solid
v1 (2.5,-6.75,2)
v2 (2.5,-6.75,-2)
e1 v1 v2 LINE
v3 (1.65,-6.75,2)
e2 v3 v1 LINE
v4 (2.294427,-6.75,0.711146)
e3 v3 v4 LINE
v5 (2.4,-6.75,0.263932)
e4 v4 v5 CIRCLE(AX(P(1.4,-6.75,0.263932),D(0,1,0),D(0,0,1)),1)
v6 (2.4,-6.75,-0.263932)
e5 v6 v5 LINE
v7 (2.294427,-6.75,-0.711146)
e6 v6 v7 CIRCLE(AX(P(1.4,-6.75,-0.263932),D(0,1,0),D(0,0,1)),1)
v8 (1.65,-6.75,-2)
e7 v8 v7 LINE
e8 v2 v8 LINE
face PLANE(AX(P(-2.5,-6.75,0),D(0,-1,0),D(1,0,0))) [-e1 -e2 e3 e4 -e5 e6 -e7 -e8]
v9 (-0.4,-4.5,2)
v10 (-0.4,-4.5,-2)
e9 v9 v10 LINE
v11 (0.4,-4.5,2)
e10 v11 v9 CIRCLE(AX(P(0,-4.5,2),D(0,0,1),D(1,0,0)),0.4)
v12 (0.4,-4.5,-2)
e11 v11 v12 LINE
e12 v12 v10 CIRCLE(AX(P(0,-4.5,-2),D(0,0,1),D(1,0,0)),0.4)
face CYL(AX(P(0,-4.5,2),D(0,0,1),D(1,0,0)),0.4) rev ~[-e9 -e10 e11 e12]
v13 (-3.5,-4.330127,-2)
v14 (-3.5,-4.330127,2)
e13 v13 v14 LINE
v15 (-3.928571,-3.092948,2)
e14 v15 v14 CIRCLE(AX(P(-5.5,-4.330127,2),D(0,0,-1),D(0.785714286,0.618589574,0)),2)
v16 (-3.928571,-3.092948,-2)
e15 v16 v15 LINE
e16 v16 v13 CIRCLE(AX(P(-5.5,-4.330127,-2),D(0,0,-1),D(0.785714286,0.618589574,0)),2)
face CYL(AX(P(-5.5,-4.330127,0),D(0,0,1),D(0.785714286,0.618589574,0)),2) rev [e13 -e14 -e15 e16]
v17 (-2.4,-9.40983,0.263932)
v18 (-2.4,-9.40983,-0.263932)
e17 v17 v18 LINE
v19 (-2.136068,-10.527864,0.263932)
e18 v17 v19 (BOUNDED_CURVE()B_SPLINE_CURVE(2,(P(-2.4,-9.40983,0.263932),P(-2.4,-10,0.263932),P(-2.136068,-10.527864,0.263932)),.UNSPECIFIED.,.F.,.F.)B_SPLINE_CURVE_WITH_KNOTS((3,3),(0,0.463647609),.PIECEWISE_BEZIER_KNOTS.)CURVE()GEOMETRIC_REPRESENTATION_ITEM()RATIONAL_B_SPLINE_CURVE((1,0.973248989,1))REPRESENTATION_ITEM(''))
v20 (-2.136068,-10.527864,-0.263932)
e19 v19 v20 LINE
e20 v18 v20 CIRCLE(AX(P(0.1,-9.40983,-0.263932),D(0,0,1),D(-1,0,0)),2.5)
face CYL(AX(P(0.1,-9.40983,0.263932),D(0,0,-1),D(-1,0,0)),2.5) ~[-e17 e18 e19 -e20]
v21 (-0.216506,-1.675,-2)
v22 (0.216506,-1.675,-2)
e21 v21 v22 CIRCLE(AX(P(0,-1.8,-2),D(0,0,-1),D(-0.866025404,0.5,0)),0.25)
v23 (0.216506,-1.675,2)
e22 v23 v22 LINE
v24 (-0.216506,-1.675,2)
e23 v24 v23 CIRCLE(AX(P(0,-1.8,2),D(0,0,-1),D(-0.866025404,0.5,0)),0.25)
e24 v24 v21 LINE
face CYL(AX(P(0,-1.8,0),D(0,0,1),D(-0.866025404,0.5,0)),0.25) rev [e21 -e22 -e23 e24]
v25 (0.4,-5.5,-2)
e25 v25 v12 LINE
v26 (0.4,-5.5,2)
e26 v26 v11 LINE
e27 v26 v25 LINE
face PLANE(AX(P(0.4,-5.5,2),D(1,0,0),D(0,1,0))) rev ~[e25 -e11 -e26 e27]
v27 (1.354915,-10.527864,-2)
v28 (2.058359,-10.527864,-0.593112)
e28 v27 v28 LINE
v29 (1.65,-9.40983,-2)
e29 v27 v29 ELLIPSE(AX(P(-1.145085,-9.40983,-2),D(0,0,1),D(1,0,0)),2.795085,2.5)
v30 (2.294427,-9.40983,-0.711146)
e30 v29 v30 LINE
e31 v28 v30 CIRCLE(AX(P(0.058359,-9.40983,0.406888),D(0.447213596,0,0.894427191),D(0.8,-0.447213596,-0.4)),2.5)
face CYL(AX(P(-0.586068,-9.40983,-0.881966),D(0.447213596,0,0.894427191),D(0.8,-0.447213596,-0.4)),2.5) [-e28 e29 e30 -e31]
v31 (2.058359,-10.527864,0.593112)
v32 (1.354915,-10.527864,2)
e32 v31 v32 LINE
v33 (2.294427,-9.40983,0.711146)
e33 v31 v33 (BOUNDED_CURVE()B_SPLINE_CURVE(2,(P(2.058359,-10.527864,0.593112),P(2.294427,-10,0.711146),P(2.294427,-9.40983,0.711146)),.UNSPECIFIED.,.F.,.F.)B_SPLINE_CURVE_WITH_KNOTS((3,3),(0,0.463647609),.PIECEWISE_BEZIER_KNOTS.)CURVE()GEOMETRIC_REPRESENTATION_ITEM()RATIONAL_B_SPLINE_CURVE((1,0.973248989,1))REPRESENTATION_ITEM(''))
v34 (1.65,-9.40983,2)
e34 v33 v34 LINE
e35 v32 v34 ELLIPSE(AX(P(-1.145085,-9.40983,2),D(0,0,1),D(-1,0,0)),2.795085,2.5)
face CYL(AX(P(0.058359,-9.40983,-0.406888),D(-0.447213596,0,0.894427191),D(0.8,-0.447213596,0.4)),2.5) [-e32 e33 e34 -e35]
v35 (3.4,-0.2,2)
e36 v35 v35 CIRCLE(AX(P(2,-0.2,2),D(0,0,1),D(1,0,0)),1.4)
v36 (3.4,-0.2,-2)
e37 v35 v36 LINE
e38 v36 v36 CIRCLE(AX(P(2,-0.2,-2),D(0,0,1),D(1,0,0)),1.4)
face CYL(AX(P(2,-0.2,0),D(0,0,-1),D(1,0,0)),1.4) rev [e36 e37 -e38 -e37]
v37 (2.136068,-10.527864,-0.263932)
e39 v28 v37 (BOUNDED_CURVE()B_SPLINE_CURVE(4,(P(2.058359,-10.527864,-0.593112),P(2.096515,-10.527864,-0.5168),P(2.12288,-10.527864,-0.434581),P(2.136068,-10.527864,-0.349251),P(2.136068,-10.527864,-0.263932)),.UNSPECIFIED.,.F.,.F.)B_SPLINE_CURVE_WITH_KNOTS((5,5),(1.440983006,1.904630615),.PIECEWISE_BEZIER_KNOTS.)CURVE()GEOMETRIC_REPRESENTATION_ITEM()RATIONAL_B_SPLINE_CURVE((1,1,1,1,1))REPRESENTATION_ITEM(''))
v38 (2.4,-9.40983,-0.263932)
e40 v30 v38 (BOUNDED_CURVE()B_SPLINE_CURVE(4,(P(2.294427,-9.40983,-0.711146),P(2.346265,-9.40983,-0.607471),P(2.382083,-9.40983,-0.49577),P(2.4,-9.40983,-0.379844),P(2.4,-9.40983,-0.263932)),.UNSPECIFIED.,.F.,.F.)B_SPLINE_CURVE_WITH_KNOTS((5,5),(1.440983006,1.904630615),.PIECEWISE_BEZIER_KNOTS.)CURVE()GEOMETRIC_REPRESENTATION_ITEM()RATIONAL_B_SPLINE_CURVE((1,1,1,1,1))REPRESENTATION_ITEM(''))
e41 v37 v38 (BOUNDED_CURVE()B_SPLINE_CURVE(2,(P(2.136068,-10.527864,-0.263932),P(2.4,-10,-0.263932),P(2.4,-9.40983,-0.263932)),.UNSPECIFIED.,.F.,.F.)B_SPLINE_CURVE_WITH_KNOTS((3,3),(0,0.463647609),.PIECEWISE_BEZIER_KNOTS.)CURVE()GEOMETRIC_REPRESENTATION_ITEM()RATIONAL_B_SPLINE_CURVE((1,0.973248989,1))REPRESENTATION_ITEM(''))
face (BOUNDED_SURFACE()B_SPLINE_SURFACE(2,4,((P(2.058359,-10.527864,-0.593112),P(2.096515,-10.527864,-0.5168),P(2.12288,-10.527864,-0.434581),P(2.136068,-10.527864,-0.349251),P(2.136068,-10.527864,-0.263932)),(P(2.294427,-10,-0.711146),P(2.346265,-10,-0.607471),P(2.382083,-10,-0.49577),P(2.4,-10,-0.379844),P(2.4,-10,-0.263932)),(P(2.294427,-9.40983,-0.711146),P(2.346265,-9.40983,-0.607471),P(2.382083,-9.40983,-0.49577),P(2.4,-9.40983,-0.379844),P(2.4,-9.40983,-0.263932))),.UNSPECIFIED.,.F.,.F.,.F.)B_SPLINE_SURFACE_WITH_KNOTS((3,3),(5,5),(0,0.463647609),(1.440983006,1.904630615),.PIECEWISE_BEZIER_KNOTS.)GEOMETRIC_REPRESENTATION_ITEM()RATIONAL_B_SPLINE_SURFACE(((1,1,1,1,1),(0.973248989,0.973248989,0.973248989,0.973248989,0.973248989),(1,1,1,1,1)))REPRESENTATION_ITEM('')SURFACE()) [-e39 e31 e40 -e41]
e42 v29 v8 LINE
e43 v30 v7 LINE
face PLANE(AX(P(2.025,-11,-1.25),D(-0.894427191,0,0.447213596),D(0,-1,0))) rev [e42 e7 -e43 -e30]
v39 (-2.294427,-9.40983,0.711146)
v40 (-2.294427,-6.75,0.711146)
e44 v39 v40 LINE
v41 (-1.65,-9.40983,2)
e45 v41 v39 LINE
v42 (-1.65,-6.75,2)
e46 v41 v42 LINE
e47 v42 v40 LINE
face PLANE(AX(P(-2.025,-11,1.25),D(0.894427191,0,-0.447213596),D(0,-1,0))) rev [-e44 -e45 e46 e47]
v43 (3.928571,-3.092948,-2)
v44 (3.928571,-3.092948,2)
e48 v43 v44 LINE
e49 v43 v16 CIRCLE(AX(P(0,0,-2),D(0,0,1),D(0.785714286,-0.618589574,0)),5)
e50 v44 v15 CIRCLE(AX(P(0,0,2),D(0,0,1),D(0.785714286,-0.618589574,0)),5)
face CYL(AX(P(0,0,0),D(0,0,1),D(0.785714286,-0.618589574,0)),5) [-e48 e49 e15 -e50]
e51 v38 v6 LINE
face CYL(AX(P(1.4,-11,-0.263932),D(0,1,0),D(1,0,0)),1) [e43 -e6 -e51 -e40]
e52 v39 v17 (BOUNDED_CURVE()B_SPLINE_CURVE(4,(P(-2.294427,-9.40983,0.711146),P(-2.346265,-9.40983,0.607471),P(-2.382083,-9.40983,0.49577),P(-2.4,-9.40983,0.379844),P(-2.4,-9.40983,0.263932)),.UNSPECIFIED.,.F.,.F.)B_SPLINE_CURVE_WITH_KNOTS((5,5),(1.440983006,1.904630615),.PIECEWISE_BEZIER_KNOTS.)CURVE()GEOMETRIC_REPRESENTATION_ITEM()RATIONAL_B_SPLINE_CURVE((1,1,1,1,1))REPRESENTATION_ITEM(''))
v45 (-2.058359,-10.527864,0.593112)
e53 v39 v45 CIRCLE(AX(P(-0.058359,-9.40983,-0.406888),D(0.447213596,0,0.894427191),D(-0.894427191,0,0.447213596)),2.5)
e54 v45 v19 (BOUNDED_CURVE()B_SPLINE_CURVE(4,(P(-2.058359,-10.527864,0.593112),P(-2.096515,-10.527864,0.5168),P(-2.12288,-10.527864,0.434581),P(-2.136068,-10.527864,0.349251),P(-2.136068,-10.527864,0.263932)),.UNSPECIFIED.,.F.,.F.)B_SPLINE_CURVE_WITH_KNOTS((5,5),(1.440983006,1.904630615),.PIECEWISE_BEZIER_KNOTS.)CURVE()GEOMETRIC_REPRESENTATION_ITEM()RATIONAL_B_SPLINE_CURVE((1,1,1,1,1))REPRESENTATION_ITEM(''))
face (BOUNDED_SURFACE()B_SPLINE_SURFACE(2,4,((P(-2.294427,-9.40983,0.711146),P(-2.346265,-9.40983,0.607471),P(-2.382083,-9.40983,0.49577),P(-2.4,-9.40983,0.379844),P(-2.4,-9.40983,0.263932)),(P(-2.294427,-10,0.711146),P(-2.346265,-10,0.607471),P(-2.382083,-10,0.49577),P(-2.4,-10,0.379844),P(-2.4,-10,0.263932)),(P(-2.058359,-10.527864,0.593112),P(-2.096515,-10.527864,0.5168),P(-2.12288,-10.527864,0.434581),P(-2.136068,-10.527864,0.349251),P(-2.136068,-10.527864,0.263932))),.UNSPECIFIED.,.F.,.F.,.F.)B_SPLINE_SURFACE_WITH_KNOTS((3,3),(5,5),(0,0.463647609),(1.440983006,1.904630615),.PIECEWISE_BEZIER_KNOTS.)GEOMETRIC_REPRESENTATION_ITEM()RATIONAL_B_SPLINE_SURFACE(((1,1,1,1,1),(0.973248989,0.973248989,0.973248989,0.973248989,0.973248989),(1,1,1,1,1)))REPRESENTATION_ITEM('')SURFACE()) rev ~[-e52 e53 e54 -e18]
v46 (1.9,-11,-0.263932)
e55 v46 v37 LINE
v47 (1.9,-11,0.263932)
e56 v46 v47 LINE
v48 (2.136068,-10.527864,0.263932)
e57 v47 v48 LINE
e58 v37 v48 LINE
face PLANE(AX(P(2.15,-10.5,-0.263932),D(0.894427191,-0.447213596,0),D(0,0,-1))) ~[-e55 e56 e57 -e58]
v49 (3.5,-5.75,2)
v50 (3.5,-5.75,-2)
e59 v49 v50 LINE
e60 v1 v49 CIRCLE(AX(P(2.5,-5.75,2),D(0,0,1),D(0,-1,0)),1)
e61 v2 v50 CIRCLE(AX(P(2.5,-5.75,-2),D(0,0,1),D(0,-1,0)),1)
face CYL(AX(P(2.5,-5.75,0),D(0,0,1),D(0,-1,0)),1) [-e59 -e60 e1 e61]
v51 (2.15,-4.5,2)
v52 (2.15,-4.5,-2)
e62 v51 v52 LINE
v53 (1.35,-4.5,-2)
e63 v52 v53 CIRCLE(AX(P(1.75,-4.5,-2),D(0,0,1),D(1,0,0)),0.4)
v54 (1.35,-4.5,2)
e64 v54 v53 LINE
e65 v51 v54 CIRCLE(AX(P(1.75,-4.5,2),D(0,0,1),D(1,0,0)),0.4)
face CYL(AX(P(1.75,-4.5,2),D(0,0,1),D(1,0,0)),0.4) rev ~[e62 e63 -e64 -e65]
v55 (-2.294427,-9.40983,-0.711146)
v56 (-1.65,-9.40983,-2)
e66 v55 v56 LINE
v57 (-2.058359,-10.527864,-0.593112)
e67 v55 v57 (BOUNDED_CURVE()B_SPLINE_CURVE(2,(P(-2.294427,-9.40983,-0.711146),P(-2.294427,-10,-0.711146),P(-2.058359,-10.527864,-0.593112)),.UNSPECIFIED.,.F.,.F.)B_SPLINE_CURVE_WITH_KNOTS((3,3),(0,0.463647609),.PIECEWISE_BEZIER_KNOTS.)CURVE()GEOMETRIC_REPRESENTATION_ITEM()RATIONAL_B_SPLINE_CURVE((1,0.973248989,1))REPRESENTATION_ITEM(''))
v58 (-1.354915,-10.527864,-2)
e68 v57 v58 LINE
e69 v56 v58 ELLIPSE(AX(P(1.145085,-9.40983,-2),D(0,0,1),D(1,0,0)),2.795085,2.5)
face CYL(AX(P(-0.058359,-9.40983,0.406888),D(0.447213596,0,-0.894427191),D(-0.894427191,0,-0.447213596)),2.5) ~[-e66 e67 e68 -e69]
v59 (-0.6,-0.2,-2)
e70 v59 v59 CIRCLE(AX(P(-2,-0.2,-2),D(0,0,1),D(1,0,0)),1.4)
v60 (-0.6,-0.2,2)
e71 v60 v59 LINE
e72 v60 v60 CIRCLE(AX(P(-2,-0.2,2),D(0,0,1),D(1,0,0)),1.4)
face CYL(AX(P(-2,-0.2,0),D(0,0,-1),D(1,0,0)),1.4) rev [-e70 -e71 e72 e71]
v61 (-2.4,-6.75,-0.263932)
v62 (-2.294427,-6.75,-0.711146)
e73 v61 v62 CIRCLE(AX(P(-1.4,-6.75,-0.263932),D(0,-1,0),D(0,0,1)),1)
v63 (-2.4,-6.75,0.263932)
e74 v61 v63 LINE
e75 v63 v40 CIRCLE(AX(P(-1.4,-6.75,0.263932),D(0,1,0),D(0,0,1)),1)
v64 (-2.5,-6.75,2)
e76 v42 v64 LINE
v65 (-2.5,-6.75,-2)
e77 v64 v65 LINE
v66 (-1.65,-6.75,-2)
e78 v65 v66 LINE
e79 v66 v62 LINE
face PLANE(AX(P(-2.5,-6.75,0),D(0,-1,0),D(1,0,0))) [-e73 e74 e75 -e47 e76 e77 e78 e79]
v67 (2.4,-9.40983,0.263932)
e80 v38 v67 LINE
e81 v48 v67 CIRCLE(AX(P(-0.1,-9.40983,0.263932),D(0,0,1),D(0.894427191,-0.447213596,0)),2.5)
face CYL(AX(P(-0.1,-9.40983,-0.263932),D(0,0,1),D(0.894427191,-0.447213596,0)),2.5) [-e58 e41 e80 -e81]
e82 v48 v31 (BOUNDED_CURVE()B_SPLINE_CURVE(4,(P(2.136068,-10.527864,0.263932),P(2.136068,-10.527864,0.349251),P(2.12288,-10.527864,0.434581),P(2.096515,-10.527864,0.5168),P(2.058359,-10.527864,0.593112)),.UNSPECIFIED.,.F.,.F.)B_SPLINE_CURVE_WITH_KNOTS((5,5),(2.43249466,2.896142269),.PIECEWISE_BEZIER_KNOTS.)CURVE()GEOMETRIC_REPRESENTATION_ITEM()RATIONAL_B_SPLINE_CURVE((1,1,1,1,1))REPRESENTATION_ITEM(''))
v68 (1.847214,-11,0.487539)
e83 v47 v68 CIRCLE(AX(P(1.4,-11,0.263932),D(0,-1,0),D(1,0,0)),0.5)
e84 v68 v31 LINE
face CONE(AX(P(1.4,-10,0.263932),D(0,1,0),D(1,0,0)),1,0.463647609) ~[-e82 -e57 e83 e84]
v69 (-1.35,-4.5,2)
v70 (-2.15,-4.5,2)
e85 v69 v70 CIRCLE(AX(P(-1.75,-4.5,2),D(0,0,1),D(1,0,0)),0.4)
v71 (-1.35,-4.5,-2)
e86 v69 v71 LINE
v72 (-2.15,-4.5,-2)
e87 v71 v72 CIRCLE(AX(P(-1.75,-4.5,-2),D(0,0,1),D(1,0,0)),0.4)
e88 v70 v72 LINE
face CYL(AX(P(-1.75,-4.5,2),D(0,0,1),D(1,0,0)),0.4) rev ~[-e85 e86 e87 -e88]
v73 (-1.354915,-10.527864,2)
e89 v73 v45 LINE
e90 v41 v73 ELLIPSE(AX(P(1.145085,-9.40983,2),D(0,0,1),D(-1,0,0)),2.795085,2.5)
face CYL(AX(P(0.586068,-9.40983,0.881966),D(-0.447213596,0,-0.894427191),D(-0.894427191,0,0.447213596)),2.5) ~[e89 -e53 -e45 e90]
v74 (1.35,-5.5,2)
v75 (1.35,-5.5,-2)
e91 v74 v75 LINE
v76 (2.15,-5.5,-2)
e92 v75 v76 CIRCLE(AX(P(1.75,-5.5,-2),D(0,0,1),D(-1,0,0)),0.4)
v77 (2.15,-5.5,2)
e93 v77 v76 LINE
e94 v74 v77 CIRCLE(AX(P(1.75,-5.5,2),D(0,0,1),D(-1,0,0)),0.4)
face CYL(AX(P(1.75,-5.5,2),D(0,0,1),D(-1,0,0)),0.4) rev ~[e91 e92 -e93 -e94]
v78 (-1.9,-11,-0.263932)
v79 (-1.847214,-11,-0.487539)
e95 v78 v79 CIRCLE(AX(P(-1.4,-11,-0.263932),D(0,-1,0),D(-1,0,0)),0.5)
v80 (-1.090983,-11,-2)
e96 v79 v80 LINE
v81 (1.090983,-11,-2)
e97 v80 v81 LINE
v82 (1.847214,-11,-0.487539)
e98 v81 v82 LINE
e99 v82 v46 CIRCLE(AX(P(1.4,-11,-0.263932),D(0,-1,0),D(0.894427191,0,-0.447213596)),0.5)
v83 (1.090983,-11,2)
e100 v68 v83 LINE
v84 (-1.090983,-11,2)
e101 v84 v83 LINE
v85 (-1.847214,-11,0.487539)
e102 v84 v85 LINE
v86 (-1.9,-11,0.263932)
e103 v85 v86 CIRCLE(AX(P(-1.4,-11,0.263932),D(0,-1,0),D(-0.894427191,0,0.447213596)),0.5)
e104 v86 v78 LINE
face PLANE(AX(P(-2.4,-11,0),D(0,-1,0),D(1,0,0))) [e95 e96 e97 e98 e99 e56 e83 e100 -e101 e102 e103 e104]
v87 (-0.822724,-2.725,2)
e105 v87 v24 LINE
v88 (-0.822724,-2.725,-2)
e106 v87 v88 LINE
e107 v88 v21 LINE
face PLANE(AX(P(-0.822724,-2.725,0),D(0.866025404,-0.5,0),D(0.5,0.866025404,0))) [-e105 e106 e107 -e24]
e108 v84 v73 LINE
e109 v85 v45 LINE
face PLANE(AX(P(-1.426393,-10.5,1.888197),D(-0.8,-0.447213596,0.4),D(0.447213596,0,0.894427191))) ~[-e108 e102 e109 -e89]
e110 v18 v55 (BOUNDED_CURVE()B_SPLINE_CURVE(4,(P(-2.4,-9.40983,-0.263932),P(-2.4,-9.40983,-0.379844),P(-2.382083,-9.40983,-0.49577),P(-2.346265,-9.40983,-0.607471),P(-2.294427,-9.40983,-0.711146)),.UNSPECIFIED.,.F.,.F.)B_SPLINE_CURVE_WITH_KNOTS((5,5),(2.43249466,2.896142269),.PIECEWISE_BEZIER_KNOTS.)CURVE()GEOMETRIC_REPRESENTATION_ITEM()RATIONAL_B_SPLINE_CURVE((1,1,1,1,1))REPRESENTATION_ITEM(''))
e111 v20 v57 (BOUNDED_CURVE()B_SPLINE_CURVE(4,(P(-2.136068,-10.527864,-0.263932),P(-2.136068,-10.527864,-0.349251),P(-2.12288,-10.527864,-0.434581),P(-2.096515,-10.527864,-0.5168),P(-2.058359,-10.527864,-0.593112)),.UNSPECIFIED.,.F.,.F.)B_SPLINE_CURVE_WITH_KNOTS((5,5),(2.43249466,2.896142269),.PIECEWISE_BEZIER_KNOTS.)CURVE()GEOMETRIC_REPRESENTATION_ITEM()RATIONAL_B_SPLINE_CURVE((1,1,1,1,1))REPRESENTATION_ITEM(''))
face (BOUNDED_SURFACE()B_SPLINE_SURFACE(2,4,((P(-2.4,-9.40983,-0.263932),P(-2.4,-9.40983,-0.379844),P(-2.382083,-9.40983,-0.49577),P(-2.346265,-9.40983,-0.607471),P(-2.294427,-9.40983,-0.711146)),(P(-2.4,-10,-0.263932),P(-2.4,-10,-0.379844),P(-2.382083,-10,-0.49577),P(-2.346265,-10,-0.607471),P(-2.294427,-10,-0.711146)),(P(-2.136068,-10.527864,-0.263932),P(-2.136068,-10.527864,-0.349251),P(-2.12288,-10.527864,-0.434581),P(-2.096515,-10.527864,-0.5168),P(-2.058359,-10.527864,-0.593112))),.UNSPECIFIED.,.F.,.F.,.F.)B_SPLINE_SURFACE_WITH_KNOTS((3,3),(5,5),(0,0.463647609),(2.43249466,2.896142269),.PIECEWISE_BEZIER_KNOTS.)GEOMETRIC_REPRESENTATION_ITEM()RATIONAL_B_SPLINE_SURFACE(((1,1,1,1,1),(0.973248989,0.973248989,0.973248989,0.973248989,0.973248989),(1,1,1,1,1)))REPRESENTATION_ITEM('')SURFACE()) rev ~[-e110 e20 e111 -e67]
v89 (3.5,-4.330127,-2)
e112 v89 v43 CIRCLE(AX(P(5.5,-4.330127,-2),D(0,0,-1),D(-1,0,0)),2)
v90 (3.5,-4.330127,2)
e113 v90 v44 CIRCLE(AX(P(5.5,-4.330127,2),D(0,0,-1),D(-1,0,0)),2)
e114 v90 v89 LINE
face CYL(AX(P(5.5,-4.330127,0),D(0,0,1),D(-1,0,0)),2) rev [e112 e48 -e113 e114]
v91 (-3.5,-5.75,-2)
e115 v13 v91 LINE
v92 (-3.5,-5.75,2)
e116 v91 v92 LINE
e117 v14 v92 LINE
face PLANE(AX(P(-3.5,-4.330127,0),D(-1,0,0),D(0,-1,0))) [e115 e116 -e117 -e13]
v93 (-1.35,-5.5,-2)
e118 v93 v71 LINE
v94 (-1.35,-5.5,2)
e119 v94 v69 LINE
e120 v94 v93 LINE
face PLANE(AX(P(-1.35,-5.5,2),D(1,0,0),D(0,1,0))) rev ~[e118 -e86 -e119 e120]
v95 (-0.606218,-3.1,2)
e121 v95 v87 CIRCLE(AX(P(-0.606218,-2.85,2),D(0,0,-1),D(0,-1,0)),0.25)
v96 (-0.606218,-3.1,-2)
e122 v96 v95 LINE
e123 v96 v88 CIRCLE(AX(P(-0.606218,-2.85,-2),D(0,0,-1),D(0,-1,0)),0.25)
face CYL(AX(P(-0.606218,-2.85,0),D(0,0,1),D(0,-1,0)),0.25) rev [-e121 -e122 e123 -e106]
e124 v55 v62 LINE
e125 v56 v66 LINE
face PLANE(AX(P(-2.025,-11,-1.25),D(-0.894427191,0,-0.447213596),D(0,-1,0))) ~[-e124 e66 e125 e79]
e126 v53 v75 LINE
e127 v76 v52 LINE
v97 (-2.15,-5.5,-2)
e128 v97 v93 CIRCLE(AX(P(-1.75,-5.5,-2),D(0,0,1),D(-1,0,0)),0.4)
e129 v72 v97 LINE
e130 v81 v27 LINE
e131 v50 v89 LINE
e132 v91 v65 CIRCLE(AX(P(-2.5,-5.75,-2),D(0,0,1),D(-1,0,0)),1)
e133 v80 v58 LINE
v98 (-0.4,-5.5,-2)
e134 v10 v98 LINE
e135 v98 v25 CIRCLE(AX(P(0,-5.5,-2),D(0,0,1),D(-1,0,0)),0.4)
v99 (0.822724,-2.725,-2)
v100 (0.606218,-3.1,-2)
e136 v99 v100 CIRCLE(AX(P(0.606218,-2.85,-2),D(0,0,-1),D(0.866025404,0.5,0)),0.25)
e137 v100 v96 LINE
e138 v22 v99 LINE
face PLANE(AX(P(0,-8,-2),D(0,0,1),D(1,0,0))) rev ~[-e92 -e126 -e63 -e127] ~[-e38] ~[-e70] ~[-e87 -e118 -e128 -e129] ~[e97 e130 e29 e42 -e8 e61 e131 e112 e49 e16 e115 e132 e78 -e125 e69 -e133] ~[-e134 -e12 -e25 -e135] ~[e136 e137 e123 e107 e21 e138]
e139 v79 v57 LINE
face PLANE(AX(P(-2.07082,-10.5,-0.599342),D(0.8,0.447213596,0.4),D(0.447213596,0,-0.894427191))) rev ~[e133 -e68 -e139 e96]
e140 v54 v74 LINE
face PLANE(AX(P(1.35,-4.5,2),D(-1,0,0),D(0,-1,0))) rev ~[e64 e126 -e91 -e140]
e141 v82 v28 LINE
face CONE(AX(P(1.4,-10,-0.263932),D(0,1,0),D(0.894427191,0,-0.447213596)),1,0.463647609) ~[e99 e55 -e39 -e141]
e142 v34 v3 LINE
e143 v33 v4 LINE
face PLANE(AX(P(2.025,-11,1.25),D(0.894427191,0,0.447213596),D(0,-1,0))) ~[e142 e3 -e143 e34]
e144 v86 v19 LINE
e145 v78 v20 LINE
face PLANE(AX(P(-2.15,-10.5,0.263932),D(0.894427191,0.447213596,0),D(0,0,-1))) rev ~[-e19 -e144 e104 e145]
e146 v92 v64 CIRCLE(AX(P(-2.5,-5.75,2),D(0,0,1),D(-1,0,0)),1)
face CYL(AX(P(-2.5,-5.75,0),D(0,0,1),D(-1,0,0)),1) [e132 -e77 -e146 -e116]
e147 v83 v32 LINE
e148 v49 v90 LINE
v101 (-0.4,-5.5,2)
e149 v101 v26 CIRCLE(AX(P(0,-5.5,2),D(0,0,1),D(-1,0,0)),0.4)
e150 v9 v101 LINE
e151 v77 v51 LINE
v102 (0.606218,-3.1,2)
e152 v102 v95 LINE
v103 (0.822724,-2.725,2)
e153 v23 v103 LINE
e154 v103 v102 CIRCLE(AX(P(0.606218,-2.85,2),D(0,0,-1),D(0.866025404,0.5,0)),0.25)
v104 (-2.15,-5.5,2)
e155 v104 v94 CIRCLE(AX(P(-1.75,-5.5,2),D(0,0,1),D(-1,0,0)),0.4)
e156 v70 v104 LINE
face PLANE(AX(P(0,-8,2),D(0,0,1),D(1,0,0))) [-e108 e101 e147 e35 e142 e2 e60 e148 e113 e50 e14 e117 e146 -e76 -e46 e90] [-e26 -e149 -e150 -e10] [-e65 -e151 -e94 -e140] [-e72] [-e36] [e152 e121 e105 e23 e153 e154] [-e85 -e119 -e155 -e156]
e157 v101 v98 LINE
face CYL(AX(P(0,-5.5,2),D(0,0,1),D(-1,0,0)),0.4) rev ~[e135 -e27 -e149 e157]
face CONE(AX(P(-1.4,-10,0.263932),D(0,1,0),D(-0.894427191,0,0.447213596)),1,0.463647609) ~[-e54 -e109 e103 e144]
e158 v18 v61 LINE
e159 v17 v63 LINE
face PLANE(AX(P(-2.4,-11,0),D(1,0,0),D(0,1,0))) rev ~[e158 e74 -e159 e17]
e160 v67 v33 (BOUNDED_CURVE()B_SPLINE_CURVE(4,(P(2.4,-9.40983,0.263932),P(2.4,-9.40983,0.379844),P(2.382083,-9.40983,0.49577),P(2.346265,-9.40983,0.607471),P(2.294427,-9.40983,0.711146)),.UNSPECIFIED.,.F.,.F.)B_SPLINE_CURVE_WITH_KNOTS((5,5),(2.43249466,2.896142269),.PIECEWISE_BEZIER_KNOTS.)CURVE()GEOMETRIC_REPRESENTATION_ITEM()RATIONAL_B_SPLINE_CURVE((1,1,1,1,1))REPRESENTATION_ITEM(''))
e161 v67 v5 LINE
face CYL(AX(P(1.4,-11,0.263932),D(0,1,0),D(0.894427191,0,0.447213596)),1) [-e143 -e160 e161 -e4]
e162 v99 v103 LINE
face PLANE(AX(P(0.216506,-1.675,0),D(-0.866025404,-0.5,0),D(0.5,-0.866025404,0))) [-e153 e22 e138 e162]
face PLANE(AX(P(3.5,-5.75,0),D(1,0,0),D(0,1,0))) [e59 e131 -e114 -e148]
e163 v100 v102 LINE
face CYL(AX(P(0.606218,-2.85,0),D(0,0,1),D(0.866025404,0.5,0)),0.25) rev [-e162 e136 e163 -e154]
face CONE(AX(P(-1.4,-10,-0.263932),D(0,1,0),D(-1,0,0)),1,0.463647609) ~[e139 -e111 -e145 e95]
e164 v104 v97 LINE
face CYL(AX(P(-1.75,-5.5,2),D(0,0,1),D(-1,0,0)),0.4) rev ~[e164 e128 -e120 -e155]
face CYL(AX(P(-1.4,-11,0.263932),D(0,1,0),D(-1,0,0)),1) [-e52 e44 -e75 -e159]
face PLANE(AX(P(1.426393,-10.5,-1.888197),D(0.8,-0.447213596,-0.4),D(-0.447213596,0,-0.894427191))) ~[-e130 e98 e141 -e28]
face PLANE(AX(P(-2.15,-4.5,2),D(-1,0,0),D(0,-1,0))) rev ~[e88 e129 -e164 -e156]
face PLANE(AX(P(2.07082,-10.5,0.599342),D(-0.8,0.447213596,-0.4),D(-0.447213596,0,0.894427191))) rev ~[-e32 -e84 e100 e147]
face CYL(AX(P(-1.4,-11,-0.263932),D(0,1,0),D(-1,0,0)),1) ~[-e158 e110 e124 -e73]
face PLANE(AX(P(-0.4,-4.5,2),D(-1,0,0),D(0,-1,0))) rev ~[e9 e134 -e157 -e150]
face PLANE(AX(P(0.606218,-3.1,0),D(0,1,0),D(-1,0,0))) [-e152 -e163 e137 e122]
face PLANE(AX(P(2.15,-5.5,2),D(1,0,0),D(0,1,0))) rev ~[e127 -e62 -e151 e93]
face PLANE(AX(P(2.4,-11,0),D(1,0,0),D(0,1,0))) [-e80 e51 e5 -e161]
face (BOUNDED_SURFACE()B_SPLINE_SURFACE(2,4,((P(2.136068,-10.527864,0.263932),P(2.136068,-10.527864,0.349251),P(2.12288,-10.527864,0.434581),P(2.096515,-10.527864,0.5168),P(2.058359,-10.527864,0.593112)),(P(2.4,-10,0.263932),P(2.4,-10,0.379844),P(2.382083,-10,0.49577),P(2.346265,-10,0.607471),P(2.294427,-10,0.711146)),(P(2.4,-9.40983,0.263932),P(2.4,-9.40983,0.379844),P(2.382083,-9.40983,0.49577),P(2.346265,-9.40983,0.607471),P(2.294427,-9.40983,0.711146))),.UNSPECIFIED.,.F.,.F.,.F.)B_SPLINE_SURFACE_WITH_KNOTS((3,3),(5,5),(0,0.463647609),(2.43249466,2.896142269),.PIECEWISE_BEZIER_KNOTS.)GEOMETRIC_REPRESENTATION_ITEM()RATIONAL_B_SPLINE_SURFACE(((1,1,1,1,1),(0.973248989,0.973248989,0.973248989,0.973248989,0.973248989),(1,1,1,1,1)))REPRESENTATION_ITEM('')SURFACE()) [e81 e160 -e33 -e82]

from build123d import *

# Parameters (mm, degrees)
F0_R       = 1.4
F1_DEPTH   = 2
F2_W       = 4.8
F2_H       = 6
F3_DEPTH   = 2
F4_SIZE2   = 1.5
F4_SIZE    = 0.75
F4_2_SIZE2 = 1.5
F4_2_SIZE  = 0.75
F5_R       = 1
F7_DEPTH   = 4.001
F8_SIZE2   = 1
F8_SIZE    = 0.5
F9_R       = 2.5


with BuildPart() as f1:
    # F0 (on Top) → F1 (new body, symmetric)
    with BuildSketch(Plane.XY):
        with BuildLine():
            ThreePointArc((3.5, -4.3301270189), (3.610177635, -3.6754733482), (3.9285714286, -3.0929478707))
            ThreePointArc((3.9285714286, -3.0929478707), (0, 5), (-3.9285714286, -3.0929478707))
            ThreePointArc((-3.9285714286, -3.0929478707), (-3.610177635, -3.6754733482), (-3.5, -4.3301270189))
            Line((-3.5, -4.3301270189), (-3.5, -5.75))
            ThreePointArc((-3.5, -5.75), (-3.2071067812, -6.4571067812), (-2.5, -6.75))
            Line((-2.5, -6.75), (2.5, -6.75))
            ThreePointArc((2.5, -6.75), (3.2071067812, -6.4571067812), (3.5, -5.75))
            Line((3.5, -5.75), (3.5, -4.3301270189))
        make_face()
        with BuildLine():
            ThreePointArc((0.8227241336, -2.725), (0.8227241336, -2.975), (0.6062177826, -3.1))
            Line((0.6062177826, -3.1), (-0.6062177826, -3.1))
            ThreePointArc((-0.6062177826, -3.1), (-0.8227241336, -2.975), (-0.8227241336, -2.725))
            Line((-0.8227241336, -2.725), (-0.2165063509, -1.675))
            ThreePointArc((-0.2165063509, -1.675), (0, -1.55), (0.2165063509, -1.675))
            Line((0.2165063509, -1.675), (0.8227241336, -2.725))
        make_face(mode=Mode.SUBTRACT)
        with Locations((-2, -0.2)):
            Circle(F0_R, mode=Mode.SUBTRACT)
        with Locations((2, -0.2)):
            Circle(F0_R, mode=Mode.SUBTRACT)
    extrude(amount=F1_DEPTH, both=True)

    # F2 (on Top) → F3 (join, symmetric)
    with BuildSketch(Plane.XY):
        with Locations((0, -8)):
            Rectangle(F2_W, F2_H)
    extrude(amount=F3_DEPTH, both=True)

    # F4
    f4_edges = [f1.edges().sort_by_distance(p)[0] for p in [
        (2.4, -8.875, 2),
        (-2.4, -8.875, 2),
    ]]
    f4_side = f1.faces().sort_by_distance((3.07369, -6.32369, 2))[0]
    chamfer(f4_edges, length=F4_SIZE, length2=F4_SIZE2, reference=f4_side)

    # F4#2
    f4_2_edges = [f1.edges().sort_by_distance(p)[0] for p in [
        (2.4, -8.875, -2),
        (-2.4, -8.875, -2),
    ]]
    f4_2_side = f1.faces().sort_by_distance((3.07369, -6.32369, -2))[0]
    chamfer(f4_2_edges, length=F4_2_SIZE, length2=F4_2_SIZE2, reference=f4_2_side)

    # F5
    f5_edges = [f1.edges().sort_by_distance(p)[0] for p in [
        (2.4, -8.875, 0.5),
        (2.4, -8.875, -0.5),
        (-2.4, -8.875, 0.5),
        (-2.4, -8.875, -0.5),
    ]]
    fillet(f5_edges, radius=F5_R)

    # F6 (on face) → F7 (cut, through all)
    with BuildSketch(Plane.XY.offset(2)):
        with BuildLine():
            ThreePointArc((-2.15, -5.5), (-1.75, -5.9), (-1.35, -5.5))
            Line((-1.35, -5.5), (-1.35, -4.5))
            ThreePointArc((-1.35, -4.5), (-1.75, -4.1), (-2.15, -4.5))
            Line((-2.15, -4.5), (-2.15, -5.5))
        make_face()
        with BuildLine():
            ThreePointArc((0.4, -4.5), (0, -4.1), (-0.4, -4.5))
            Line((-0.4, -4.5), (-0.4, -5.5))
            ThreePointArc((-0.4, -5.5), (0, -5.9), (0.4, -5.5))
            Line((0.4, -5.5), (0.4, -4.5))
        make_face()
        with BuildLine():
            ThreePointArc((2.15, -4.5), (1.75, -4.1), (1.35, -4.5))
            Line((1.35, -4.5), (1.35, -5.5))
            ThreePointArc((1.35, -5.5), (1.75, -5.9), (2.15, -5.5))
            Line((2.15, -5.5), (2.15, -4.5))
        make_face()
    extrude(amount=-F7_DEPTH, mode=Mode.SUBTRACT)

    # F8
    f8_edges = [f1.edges().sort_by_distance(p)[0] for p in [
        (1.972214, -11, -1.355573),
        (2.373249, -11, -0.493685),
        (2.4, -11, 0),
        (2.373249, -11, 0.493685),
        (1.972214, -11, 1.355573),
        (-1.972214, -11, 1.355573),
    ]]
    chamfer(f8_edges, length=F8_SIZE, length2=F8_SIZE2)

    # F9
    f9_edges = [f1.edges().sort_by_distance(p)[0] for p in [
        (1.972214, -10, 1.355573),
        (-1.972214, -10, 1.355573),
    ]]
    fillet(f9_edges, radius=F9_R)


solid = f1.part
